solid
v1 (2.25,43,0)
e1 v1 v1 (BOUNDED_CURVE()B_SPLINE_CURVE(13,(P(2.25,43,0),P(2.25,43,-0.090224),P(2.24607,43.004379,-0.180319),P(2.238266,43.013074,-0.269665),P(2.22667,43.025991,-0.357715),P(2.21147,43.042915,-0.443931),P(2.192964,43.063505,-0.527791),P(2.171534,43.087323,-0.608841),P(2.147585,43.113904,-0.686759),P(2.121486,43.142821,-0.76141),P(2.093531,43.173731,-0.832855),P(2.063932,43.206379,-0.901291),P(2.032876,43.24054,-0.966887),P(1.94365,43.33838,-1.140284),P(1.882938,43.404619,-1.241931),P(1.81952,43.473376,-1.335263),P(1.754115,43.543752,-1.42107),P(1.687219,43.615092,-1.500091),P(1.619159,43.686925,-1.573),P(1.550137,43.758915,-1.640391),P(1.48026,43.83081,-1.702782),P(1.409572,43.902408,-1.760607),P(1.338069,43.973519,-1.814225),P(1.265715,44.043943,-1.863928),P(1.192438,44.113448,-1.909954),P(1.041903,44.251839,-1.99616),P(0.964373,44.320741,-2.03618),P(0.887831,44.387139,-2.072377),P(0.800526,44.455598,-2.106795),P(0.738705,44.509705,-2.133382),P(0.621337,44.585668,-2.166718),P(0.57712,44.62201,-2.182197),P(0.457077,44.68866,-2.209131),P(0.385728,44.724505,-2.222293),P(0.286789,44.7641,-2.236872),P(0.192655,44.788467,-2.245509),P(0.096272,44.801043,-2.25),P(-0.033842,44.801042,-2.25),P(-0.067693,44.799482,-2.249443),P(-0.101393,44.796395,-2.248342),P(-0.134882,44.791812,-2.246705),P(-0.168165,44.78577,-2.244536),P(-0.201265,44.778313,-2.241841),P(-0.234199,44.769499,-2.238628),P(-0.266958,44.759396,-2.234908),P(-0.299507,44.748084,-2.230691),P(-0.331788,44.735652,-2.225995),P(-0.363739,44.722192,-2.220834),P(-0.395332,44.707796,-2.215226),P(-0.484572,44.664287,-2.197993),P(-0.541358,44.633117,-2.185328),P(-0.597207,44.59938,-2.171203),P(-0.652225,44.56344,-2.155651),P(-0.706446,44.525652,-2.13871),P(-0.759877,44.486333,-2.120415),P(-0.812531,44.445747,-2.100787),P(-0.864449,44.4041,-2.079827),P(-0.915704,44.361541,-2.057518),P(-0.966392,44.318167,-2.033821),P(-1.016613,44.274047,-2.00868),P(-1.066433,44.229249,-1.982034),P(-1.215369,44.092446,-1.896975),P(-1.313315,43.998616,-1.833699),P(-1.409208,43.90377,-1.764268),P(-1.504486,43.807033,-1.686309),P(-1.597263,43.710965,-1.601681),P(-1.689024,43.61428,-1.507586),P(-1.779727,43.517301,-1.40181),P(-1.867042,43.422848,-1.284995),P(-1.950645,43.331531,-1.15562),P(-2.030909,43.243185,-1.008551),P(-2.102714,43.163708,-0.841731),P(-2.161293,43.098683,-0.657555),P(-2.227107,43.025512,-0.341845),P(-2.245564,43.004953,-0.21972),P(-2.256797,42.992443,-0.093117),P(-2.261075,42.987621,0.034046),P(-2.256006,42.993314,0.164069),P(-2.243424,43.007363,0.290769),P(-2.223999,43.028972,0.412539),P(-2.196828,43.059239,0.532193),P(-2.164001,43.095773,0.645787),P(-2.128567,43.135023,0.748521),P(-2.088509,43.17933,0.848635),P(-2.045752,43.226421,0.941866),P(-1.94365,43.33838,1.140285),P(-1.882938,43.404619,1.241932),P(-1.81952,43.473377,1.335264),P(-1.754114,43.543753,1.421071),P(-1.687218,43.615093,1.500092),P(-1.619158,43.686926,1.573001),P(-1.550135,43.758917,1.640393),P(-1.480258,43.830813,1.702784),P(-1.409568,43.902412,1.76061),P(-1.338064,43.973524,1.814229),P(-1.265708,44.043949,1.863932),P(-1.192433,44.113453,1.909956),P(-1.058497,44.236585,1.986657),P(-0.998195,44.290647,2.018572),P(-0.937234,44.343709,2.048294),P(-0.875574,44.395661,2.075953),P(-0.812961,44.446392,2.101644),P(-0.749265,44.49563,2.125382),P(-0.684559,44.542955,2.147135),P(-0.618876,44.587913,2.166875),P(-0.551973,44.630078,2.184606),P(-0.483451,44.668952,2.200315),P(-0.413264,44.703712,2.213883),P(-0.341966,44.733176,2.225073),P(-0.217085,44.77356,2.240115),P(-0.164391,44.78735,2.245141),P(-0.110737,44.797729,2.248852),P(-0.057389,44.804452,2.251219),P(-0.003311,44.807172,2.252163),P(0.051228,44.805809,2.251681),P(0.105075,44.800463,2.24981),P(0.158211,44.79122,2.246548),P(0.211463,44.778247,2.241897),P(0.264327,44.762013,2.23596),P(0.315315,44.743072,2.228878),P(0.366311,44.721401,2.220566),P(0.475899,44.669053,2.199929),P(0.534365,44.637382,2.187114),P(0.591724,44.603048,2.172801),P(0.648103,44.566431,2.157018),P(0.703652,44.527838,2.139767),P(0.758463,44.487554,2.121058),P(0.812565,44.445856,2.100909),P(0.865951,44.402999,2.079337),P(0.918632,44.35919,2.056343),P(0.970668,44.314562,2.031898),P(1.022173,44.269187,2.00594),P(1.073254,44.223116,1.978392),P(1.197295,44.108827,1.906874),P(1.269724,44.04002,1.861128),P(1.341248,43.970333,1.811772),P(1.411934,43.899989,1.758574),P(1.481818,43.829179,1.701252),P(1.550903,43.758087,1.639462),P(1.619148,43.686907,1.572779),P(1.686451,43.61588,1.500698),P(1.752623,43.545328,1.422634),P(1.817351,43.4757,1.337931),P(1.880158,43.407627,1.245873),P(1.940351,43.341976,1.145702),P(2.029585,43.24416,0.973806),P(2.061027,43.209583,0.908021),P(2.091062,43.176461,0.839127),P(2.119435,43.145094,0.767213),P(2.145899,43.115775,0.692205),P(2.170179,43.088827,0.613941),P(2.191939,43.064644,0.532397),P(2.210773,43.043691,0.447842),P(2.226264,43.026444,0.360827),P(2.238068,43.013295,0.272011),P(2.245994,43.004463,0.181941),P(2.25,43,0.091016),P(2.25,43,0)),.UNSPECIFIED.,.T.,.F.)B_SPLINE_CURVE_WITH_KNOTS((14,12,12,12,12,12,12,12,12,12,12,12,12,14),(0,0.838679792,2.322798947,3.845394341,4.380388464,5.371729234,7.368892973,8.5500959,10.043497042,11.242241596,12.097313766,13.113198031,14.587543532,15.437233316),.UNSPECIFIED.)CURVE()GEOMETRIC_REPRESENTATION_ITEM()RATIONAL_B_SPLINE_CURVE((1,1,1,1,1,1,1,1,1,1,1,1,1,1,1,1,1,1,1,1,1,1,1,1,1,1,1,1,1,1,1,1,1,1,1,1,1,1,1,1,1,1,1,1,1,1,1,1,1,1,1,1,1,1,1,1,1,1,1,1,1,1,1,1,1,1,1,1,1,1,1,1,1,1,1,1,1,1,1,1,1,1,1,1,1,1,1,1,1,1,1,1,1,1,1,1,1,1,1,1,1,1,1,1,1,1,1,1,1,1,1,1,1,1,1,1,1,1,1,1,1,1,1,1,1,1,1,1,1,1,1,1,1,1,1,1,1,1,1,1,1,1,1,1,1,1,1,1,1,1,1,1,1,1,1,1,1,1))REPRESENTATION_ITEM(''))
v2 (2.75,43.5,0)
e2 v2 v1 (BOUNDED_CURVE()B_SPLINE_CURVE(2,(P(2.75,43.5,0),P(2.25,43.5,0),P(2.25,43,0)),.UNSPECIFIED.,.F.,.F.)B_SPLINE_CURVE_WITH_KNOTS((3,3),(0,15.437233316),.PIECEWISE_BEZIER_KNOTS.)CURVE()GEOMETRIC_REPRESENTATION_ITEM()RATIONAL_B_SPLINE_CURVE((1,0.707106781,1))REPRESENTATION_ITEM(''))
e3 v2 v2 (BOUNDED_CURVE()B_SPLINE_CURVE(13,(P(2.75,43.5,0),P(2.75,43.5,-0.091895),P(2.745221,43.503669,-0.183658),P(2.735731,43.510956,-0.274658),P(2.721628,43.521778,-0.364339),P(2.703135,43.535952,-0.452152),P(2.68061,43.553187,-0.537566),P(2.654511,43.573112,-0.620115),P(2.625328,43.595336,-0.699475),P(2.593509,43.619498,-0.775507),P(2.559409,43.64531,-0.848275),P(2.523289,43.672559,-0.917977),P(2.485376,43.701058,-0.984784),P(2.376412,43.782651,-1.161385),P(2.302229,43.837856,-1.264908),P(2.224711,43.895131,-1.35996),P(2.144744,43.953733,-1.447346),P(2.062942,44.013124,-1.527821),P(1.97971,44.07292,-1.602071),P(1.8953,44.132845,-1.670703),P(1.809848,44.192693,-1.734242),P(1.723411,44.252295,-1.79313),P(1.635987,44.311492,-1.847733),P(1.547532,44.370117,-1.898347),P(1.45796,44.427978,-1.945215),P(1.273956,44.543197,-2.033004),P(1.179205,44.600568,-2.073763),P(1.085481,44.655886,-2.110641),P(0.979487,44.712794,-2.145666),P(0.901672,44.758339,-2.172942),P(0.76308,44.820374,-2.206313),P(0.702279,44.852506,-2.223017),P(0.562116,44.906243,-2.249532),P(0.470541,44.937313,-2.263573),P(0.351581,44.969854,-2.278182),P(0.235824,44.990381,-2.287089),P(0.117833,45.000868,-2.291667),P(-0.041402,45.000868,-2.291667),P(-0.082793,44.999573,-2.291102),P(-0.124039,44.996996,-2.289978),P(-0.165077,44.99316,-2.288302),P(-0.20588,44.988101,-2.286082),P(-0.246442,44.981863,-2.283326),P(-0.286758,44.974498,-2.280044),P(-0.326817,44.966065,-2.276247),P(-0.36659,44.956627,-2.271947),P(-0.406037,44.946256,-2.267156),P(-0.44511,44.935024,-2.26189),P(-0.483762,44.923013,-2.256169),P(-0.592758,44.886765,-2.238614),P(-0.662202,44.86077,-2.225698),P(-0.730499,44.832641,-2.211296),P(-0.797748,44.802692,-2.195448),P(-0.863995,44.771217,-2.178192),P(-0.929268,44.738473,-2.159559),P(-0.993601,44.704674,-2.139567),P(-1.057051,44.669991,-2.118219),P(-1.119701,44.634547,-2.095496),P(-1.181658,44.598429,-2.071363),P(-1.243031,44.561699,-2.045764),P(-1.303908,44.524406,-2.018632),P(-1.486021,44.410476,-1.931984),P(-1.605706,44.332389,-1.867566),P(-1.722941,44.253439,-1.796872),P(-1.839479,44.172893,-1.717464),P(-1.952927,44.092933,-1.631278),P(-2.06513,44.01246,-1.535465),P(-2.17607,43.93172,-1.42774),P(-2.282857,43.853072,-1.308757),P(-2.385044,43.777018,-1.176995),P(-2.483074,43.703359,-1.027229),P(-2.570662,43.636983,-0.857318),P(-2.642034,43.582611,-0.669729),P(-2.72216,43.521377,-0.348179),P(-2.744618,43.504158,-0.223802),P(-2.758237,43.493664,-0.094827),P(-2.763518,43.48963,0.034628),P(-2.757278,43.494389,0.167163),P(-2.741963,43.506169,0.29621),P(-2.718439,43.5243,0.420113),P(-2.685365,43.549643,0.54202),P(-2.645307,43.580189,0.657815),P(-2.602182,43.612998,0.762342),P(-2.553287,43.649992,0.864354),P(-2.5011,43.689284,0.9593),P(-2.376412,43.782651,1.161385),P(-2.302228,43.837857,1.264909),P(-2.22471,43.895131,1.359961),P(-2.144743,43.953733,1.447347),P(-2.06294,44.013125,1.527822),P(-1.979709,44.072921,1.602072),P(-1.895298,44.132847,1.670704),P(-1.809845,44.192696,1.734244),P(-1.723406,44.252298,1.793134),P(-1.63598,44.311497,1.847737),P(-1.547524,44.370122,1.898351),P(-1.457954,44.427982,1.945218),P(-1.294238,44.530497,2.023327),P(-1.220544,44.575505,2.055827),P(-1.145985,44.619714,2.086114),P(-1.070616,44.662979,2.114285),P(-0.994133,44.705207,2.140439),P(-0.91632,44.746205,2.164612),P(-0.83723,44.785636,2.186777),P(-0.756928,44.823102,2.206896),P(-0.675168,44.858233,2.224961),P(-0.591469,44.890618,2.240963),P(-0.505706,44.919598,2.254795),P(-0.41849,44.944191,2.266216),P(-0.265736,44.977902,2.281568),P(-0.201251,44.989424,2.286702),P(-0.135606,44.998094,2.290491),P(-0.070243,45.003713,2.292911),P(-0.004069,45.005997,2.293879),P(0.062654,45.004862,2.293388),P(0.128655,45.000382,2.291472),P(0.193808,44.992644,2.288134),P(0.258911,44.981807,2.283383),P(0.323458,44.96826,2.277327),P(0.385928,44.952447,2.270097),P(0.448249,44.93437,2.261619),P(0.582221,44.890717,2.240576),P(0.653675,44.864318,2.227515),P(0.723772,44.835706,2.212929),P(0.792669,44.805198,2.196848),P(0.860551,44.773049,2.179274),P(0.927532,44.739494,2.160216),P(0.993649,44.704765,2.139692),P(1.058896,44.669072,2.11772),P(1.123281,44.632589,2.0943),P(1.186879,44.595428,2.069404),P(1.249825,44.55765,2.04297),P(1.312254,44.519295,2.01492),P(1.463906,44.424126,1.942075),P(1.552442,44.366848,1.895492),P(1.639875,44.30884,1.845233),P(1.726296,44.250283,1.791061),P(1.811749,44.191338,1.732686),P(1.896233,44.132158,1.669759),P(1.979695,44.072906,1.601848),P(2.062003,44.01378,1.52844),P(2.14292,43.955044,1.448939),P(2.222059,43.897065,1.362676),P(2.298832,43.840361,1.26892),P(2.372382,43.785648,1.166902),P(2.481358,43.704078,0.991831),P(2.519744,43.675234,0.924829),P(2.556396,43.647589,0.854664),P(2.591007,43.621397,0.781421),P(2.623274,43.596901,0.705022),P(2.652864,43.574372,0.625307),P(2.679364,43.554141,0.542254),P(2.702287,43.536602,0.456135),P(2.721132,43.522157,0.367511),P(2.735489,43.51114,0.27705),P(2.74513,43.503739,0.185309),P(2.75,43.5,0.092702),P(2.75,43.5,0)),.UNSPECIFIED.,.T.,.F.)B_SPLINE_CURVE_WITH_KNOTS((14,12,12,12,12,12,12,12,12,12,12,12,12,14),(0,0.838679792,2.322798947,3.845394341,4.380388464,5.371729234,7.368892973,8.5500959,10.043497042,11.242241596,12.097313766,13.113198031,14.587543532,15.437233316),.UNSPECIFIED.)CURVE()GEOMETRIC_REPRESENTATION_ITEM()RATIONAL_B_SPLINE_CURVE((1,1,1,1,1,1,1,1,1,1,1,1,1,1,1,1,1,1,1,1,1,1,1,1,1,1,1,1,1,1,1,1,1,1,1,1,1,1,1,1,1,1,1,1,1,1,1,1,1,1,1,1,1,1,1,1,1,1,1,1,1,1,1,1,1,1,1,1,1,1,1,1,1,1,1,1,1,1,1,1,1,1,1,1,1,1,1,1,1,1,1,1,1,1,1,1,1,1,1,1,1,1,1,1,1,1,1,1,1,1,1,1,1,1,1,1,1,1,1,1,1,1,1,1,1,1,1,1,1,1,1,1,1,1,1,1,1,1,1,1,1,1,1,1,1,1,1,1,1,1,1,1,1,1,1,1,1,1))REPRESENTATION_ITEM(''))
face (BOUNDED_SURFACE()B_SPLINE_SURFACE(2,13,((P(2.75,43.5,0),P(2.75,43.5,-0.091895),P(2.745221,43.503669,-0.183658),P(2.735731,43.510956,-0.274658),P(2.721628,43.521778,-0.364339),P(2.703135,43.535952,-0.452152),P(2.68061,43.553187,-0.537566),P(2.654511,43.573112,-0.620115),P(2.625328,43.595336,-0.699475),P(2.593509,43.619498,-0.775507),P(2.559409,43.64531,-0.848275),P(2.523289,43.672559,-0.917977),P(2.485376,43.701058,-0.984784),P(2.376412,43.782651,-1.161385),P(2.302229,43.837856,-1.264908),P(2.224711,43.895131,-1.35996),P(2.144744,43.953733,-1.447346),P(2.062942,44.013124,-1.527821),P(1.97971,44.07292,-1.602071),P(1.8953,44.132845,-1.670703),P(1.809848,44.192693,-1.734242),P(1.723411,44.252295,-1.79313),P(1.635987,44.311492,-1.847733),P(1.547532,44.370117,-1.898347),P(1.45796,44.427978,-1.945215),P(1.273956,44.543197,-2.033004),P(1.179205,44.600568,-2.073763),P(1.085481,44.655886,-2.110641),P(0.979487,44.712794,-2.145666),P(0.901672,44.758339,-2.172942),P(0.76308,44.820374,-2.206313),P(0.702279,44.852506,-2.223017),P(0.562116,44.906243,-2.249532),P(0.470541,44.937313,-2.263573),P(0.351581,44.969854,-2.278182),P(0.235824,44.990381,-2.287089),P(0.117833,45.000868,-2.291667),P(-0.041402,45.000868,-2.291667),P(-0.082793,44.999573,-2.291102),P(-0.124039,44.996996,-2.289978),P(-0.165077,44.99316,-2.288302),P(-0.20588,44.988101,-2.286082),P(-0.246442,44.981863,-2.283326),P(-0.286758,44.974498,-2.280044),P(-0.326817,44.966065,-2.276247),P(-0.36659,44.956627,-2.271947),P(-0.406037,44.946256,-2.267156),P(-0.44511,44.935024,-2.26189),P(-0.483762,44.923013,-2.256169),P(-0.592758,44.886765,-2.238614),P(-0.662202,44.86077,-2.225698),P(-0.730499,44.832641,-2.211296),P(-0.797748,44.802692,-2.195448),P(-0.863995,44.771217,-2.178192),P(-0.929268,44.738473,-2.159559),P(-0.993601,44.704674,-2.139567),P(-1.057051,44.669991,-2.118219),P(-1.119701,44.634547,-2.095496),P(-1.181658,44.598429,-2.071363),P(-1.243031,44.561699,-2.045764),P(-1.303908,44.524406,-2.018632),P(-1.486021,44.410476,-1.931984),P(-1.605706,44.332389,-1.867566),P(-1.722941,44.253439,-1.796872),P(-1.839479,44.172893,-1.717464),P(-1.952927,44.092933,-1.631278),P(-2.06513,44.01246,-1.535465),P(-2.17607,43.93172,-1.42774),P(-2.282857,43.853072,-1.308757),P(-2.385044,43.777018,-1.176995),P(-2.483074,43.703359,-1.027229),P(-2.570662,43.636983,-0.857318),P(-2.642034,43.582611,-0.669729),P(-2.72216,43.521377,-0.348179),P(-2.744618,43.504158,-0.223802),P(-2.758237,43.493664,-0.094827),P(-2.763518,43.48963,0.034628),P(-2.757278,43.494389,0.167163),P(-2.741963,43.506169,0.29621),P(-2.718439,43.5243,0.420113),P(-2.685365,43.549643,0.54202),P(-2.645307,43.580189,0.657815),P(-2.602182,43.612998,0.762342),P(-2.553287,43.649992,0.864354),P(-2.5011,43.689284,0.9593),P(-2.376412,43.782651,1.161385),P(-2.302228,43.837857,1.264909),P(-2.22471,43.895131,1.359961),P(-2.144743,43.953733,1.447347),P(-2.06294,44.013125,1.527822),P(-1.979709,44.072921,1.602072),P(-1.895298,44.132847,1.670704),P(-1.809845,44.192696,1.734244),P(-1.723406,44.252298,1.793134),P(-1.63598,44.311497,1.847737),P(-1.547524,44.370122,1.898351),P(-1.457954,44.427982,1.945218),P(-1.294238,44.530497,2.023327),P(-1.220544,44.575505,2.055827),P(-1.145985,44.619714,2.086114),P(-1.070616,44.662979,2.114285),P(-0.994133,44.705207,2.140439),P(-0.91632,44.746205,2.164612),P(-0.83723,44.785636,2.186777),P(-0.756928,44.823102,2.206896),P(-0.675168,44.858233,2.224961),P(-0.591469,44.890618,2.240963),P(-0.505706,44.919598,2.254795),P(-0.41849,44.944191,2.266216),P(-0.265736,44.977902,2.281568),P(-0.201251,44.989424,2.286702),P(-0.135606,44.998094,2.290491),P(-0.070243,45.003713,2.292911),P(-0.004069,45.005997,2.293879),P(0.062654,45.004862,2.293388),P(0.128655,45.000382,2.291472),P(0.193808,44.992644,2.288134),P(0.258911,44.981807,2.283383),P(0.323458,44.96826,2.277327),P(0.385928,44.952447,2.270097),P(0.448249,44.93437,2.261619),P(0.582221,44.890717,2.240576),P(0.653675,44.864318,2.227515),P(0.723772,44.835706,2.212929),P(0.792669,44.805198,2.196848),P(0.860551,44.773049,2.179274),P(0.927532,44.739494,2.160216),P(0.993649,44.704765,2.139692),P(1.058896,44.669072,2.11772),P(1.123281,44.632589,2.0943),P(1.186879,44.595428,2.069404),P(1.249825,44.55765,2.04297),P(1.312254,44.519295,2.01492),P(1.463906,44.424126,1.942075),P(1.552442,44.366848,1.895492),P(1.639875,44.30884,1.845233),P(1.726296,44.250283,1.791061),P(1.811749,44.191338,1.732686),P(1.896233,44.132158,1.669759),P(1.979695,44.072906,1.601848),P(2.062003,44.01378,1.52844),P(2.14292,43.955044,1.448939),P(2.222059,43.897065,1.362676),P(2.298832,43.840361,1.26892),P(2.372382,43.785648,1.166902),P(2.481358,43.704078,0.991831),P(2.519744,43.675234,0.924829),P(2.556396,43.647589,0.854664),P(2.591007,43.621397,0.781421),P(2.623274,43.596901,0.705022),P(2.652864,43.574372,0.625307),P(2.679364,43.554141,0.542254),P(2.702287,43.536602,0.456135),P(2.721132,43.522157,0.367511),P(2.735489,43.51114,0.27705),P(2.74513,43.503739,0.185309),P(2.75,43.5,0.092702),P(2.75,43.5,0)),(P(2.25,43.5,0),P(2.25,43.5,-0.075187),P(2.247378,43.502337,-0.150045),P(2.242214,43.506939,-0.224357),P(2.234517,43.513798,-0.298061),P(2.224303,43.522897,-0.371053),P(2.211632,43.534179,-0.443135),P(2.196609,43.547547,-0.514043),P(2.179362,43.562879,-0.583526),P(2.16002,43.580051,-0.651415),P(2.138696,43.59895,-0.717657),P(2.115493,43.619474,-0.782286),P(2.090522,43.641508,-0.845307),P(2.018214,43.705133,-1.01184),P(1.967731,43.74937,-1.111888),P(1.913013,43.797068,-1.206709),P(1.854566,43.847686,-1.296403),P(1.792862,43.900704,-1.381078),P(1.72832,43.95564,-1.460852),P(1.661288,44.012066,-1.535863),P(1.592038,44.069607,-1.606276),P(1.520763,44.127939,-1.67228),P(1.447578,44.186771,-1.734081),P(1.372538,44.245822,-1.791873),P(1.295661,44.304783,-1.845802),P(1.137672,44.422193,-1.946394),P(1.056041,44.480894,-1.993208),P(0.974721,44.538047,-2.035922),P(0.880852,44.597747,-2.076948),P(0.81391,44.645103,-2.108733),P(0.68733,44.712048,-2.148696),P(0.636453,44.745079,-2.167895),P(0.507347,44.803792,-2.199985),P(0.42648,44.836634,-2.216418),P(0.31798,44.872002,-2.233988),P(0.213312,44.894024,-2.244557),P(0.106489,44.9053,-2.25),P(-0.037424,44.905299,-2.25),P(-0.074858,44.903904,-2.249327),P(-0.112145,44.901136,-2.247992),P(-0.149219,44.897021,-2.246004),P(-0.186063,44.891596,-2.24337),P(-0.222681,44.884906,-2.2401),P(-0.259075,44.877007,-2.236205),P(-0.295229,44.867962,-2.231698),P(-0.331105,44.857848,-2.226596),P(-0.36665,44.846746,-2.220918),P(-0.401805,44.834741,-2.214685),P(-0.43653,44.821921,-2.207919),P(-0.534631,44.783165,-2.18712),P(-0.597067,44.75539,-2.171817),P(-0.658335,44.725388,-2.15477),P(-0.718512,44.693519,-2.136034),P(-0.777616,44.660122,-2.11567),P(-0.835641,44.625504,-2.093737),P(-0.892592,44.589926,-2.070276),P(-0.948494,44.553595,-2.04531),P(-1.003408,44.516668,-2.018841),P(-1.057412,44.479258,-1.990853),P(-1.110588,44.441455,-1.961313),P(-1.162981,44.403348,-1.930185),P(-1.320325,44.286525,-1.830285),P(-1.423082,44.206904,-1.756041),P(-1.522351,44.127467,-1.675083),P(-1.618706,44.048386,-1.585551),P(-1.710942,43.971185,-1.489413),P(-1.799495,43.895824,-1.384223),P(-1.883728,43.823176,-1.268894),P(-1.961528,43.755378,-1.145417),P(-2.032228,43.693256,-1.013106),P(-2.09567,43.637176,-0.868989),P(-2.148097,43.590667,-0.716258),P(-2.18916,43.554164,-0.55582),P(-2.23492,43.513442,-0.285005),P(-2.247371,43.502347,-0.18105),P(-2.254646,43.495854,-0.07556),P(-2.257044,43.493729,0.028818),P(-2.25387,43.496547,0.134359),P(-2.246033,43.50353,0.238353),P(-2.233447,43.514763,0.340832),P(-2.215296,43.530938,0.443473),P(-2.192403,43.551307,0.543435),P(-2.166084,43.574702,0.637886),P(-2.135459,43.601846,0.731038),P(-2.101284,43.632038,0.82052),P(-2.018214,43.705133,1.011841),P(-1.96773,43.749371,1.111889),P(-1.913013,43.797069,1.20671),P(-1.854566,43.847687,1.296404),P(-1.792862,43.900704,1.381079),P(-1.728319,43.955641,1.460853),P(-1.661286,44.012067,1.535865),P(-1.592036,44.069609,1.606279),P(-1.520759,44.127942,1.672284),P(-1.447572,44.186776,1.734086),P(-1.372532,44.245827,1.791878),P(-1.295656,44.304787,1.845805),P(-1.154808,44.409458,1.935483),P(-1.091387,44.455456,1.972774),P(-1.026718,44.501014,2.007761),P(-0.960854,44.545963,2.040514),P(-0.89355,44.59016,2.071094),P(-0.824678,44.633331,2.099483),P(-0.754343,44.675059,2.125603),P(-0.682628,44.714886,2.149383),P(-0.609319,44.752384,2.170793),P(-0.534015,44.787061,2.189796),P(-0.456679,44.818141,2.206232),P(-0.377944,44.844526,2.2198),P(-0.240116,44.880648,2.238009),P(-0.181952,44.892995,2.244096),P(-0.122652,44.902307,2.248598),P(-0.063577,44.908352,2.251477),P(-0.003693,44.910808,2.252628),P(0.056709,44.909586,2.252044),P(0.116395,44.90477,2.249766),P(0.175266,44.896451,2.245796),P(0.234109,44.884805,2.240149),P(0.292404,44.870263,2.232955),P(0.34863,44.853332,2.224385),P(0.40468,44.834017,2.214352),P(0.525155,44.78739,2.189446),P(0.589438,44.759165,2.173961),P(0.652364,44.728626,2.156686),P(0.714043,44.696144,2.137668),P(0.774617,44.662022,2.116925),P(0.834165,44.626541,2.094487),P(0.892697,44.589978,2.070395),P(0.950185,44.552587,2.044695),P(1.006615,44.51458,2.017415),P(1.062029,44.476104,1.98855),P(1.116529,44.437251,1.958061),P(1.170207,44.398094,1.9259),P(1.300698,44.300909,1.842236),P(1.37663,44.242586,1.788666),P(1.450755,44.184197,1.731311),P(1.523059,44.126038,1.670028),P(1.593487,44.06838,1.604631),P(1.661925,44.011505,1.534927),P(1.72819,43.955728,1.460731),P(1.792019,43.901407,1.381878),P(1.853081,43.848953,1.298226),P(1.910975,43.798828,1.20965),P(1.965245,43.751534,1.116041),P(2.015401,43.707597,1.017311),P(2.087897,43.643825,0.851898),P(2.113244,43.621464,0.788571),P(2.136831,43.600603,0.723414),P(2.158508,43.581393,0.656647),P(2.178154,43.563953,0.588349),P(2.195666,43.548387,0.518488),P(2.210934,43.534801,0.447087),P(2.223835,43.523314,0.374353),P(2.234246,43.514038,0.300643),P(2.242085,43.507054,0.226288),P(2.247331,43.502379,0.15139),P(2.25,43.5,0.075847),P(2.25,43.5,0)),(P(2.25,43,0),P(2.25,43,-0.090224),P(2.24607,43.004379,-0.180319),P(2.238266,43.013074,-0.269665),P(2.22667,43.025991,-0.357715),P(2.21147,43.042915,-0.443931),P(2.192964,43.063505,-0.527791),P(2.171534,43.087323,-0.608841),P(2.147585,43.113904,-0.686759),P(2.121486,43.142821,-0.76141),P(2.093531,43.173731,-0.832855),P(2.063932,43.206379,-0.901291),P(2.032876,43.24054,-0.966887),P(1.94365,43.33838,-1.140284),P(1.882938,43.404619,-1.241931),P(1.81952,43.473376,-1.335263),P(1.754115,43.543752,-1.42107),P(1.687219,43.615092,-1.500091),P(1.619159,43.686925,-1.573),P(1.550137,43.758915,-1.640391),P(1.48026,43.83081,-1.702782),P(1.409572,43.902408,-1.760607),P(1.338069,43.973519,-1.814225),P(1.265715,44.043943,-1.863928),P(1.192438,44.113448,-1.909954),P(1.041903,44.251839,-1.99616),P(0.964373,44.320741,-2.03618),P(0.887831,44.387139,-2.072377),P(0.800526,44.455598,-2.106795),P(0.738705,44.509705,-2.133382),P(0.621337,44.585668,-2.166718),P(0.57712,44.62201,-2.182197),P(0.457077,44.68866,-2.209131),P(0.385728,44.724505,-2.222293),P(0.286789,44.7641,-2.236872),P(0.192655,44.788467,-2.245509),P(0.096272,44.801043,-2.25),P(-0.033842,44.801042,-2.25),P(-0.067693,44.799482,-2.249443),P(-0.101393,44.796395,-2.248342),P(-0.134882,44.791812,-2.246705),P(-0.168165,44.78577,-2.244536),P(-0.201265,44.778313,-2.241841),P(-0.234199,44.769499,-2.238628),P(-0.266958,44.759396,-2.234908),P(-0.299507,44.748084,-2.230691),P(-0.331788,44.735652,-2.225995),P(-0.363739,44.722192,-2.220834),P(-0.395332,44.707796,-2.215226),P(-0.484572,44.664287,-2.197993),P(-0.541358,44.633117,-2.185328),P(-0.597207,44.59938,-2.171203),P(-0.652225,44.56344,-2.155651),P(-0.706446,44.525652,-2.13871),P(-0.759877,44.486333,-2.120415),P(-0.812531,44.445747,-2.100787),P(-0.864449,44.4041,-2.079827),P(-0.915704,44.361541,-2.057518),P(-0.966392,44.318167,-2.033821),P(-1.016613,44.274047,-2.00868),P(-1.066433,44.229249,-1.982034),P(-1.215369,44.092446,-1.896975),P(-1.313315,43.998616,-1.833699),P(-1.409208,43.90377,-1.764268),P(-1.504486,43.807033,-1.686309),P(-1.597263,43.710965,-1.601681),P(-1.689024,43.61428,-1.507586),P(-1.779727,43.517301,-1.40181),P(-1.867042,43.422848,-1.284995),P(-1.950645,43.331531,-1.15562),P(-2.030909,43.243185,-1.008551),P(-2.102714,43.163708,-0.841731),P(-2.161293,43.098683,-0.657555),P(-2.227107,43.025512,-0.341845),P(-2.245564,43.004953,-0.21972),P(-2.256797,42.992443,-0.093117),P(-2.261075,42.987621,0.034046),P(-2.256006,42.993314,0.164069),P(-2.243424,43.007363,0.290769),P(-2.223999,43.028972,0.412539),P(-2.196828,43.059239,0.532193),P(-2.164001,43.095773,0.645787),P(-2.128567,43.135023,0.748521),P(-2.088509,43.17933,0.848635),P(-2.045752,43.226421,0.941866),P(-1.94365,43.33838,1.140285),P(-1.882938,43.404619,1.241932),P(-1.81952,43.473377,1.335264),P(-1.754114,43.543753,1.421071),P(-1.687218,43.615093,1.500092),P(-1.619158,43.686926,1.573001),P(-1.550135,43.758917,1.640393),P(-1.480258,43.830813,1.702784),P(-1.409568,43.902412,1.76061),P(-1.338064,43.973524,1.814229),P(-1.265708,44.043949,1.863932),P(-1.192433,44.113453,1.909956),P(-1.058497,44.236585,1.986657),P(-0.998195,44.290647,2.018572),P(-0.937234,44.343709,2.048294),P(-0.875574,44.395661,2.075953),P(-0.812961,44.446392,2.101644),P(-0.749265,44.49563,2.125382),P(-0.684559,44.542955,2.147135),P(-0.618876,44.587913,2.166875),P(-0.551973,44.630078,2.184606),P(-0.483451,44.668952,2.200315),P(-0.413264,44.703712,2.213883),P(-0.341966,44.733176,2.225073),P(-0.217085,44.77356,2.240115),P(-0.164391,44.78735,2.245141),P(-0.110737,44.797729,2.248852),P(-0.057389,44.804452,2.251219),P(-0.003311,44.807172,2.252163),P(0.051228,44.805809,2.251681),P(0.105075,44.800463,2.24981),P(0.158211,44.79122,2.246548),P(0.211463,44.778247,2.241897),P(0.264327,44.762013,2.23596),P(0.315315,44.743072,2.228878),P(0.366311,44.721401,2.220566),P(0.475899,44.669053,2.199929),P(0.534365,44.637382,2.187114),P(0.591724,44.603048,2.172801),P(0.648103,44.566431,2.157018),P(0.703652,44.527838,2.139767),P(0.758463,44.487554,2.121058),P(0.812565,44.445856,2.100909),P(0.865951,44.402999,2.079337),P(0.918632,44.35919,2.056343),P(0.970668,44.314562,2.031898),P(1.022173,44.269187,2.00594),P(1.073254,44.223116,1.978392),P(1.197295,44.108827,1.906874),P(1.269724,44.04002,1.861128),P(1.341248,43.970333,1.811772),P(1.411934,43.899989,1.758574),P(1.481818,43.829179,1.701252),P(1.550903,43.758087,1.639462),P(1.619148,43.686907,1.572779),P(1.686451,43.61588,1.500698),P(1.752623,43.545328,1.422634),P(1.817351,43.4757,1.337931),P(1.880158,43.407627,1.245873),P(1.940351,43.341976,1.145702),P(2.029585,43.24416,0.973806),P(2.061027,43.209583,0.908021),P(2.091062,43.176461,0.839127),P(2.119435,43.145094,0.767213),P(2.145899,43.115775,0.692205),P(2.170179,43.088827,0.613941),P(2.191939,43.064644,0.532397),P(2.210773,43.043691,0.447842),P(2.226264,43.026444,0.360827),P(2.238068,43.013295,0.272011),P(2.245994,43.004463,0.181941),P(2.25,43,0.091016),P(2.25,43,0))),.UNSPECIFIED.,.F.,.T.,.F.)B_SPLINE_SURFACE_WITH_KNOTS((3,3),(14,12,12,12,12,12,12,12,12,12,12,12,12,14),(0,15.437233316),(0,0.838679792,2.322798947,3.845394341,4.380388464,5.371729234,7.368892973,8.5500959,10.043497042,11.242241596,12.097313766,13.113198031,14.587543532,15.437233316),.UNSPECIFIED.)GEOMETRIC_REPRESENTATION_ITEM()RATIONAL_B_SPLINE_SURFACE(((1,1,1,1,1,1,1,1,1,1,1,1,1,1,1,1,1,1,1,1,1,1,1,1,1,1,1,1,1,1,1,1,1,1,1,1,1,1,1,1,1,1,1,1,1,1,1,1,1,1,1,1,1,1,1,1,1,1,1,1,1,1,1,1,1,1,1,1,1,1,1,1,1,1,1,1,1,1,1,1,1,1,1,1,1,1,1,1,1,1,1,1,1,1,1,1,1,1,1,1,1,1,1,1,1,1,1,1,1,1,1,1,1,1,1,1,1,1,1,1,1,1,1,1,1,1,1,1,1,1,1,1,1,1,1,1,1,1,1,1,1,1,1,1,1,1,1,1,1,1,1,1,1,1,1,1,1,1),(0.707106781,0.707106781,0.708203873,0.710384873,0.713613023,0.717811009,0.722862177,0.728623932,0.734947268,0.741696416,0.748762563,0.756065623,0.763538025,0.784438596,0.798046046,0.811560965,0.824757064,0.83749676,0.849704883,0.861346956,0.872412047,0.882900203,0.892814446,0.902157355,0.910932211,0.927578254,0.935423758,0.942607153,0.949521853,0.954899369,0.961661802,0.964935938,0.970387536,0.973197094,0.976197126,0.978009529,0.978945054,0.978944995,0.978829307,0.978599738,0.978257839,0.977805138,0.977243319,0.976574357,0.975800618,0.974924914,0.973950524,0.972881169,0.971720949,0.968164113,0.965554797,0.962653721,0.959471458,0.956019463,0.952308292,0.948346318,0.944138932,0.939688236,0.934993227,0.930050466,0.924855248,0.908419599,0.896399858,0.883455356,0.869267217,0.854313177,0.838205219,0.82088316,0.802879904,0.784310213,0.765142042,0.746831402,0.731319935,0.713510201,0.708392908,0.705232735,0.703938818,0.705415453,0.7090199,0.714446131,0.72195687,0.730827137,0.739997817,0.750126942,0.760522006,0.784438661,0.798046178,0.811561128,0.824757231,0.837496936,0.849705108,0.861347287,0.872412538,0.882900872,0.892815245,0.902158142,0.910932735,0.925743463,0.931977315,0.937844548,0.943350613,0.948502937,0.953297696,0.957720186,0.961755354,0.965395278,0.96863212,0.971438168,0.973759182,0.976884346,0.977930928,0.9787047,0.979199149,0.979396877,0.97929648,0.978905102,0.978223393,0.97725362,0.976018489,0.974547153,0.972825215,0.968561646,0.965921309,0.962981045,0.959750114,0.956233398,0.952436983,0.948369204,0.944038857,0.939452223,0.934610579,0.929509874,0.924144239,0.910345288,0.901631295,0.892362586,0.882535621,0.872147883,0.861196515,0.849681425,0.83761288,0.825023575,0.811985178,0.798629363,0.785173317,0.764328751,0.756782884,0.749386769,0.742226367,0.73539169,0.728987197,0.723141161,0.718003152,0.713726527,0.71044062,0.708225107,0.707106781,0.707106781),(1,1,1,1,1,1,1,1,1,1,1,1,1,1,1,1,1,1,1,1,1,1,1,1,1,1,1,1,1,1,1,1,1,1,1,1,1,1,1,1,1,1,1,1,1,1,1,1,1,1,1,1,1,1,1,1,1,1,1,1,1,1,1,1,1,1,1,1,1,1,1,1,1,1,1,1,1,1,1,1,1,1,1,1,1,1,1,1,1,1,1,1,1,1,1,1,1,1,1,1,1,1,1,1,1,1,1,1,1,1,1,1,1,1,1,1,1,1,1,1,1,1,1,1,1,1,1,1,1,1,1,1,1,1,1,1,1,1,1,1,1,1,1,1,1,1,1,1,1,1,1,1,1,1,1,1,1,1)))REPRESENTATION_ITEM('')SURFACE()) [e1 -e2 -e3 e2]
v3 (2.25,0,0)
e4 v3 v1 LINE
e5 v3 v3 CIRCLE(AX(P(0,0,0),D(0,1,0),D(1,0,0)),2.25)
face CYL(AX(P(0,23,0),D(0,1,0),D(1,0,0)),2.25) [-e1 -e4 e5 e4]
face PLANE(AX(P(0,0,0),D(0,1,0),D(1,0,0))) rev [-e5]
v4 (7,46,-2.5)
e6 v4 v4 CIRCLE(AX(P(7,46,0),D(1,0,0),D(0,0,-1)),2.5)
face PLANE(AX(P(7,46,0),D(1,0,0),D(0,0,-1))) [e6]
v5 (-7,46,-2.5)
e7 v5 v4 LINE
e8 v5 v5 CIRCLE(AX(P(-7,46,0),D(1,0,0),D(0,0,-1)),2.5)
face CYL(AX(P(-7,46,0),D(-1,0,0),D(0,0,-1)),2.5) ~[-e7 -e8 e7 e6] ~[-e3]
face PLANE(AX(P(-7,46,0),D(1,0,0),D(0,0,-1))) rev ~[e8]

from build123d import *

# Parameters (mm, degrees)
CROQUIS1_W                   = 2.25
CROQUIS1_H                   = 46
SALIENTE_EXTRUIR1_DEPTH      = 7
SALIENTE_EXTRUIR1_DEPTH_BACK = 7
CROQUIS2_R                   = 2.5
REDONDEO3_R                  = 0.5


with BuildPart() as part:
    # Croquis1 → Revolución1 (revolve)
    with BuildSketch(Plane.XY):
        with Locations((1.125, 23)):
            Rectangle(CROQUIS1_W, CROQUIS1_H)
    revolve(axis=Axis((0, 0, 0), (0, 1, 0)))

    # Croquis2 → Saliente-Extruir1 (add, two sides: drawn at the far end of the back side and taken through both)
    with BuildSketch(Plane(origin=(0, 0, 0), x_dir=(0, 0, -1), z_dir=(1, 0, 0)).offset(-SALIENTE_EXTRUIR1_DEPTH_BACK)):
        with Locations((0, 46)):
            Circle(CROQUIS2_R)
    extrude(amount=SALIENTE_EXTRUIR1_DEPTH + SALIENTE_EXTRUIR1_DEPTH_BACK)

    # Redondeo3
    redondeo3_edges = [part.edges().sort_by_distance(p)[0] for p in [
        (1.560544062, 44.096635151, 1.620864661),
    ]]
    fillet(redondeo3_edges, radius=REDONDEO3_R)


solid = part.part
